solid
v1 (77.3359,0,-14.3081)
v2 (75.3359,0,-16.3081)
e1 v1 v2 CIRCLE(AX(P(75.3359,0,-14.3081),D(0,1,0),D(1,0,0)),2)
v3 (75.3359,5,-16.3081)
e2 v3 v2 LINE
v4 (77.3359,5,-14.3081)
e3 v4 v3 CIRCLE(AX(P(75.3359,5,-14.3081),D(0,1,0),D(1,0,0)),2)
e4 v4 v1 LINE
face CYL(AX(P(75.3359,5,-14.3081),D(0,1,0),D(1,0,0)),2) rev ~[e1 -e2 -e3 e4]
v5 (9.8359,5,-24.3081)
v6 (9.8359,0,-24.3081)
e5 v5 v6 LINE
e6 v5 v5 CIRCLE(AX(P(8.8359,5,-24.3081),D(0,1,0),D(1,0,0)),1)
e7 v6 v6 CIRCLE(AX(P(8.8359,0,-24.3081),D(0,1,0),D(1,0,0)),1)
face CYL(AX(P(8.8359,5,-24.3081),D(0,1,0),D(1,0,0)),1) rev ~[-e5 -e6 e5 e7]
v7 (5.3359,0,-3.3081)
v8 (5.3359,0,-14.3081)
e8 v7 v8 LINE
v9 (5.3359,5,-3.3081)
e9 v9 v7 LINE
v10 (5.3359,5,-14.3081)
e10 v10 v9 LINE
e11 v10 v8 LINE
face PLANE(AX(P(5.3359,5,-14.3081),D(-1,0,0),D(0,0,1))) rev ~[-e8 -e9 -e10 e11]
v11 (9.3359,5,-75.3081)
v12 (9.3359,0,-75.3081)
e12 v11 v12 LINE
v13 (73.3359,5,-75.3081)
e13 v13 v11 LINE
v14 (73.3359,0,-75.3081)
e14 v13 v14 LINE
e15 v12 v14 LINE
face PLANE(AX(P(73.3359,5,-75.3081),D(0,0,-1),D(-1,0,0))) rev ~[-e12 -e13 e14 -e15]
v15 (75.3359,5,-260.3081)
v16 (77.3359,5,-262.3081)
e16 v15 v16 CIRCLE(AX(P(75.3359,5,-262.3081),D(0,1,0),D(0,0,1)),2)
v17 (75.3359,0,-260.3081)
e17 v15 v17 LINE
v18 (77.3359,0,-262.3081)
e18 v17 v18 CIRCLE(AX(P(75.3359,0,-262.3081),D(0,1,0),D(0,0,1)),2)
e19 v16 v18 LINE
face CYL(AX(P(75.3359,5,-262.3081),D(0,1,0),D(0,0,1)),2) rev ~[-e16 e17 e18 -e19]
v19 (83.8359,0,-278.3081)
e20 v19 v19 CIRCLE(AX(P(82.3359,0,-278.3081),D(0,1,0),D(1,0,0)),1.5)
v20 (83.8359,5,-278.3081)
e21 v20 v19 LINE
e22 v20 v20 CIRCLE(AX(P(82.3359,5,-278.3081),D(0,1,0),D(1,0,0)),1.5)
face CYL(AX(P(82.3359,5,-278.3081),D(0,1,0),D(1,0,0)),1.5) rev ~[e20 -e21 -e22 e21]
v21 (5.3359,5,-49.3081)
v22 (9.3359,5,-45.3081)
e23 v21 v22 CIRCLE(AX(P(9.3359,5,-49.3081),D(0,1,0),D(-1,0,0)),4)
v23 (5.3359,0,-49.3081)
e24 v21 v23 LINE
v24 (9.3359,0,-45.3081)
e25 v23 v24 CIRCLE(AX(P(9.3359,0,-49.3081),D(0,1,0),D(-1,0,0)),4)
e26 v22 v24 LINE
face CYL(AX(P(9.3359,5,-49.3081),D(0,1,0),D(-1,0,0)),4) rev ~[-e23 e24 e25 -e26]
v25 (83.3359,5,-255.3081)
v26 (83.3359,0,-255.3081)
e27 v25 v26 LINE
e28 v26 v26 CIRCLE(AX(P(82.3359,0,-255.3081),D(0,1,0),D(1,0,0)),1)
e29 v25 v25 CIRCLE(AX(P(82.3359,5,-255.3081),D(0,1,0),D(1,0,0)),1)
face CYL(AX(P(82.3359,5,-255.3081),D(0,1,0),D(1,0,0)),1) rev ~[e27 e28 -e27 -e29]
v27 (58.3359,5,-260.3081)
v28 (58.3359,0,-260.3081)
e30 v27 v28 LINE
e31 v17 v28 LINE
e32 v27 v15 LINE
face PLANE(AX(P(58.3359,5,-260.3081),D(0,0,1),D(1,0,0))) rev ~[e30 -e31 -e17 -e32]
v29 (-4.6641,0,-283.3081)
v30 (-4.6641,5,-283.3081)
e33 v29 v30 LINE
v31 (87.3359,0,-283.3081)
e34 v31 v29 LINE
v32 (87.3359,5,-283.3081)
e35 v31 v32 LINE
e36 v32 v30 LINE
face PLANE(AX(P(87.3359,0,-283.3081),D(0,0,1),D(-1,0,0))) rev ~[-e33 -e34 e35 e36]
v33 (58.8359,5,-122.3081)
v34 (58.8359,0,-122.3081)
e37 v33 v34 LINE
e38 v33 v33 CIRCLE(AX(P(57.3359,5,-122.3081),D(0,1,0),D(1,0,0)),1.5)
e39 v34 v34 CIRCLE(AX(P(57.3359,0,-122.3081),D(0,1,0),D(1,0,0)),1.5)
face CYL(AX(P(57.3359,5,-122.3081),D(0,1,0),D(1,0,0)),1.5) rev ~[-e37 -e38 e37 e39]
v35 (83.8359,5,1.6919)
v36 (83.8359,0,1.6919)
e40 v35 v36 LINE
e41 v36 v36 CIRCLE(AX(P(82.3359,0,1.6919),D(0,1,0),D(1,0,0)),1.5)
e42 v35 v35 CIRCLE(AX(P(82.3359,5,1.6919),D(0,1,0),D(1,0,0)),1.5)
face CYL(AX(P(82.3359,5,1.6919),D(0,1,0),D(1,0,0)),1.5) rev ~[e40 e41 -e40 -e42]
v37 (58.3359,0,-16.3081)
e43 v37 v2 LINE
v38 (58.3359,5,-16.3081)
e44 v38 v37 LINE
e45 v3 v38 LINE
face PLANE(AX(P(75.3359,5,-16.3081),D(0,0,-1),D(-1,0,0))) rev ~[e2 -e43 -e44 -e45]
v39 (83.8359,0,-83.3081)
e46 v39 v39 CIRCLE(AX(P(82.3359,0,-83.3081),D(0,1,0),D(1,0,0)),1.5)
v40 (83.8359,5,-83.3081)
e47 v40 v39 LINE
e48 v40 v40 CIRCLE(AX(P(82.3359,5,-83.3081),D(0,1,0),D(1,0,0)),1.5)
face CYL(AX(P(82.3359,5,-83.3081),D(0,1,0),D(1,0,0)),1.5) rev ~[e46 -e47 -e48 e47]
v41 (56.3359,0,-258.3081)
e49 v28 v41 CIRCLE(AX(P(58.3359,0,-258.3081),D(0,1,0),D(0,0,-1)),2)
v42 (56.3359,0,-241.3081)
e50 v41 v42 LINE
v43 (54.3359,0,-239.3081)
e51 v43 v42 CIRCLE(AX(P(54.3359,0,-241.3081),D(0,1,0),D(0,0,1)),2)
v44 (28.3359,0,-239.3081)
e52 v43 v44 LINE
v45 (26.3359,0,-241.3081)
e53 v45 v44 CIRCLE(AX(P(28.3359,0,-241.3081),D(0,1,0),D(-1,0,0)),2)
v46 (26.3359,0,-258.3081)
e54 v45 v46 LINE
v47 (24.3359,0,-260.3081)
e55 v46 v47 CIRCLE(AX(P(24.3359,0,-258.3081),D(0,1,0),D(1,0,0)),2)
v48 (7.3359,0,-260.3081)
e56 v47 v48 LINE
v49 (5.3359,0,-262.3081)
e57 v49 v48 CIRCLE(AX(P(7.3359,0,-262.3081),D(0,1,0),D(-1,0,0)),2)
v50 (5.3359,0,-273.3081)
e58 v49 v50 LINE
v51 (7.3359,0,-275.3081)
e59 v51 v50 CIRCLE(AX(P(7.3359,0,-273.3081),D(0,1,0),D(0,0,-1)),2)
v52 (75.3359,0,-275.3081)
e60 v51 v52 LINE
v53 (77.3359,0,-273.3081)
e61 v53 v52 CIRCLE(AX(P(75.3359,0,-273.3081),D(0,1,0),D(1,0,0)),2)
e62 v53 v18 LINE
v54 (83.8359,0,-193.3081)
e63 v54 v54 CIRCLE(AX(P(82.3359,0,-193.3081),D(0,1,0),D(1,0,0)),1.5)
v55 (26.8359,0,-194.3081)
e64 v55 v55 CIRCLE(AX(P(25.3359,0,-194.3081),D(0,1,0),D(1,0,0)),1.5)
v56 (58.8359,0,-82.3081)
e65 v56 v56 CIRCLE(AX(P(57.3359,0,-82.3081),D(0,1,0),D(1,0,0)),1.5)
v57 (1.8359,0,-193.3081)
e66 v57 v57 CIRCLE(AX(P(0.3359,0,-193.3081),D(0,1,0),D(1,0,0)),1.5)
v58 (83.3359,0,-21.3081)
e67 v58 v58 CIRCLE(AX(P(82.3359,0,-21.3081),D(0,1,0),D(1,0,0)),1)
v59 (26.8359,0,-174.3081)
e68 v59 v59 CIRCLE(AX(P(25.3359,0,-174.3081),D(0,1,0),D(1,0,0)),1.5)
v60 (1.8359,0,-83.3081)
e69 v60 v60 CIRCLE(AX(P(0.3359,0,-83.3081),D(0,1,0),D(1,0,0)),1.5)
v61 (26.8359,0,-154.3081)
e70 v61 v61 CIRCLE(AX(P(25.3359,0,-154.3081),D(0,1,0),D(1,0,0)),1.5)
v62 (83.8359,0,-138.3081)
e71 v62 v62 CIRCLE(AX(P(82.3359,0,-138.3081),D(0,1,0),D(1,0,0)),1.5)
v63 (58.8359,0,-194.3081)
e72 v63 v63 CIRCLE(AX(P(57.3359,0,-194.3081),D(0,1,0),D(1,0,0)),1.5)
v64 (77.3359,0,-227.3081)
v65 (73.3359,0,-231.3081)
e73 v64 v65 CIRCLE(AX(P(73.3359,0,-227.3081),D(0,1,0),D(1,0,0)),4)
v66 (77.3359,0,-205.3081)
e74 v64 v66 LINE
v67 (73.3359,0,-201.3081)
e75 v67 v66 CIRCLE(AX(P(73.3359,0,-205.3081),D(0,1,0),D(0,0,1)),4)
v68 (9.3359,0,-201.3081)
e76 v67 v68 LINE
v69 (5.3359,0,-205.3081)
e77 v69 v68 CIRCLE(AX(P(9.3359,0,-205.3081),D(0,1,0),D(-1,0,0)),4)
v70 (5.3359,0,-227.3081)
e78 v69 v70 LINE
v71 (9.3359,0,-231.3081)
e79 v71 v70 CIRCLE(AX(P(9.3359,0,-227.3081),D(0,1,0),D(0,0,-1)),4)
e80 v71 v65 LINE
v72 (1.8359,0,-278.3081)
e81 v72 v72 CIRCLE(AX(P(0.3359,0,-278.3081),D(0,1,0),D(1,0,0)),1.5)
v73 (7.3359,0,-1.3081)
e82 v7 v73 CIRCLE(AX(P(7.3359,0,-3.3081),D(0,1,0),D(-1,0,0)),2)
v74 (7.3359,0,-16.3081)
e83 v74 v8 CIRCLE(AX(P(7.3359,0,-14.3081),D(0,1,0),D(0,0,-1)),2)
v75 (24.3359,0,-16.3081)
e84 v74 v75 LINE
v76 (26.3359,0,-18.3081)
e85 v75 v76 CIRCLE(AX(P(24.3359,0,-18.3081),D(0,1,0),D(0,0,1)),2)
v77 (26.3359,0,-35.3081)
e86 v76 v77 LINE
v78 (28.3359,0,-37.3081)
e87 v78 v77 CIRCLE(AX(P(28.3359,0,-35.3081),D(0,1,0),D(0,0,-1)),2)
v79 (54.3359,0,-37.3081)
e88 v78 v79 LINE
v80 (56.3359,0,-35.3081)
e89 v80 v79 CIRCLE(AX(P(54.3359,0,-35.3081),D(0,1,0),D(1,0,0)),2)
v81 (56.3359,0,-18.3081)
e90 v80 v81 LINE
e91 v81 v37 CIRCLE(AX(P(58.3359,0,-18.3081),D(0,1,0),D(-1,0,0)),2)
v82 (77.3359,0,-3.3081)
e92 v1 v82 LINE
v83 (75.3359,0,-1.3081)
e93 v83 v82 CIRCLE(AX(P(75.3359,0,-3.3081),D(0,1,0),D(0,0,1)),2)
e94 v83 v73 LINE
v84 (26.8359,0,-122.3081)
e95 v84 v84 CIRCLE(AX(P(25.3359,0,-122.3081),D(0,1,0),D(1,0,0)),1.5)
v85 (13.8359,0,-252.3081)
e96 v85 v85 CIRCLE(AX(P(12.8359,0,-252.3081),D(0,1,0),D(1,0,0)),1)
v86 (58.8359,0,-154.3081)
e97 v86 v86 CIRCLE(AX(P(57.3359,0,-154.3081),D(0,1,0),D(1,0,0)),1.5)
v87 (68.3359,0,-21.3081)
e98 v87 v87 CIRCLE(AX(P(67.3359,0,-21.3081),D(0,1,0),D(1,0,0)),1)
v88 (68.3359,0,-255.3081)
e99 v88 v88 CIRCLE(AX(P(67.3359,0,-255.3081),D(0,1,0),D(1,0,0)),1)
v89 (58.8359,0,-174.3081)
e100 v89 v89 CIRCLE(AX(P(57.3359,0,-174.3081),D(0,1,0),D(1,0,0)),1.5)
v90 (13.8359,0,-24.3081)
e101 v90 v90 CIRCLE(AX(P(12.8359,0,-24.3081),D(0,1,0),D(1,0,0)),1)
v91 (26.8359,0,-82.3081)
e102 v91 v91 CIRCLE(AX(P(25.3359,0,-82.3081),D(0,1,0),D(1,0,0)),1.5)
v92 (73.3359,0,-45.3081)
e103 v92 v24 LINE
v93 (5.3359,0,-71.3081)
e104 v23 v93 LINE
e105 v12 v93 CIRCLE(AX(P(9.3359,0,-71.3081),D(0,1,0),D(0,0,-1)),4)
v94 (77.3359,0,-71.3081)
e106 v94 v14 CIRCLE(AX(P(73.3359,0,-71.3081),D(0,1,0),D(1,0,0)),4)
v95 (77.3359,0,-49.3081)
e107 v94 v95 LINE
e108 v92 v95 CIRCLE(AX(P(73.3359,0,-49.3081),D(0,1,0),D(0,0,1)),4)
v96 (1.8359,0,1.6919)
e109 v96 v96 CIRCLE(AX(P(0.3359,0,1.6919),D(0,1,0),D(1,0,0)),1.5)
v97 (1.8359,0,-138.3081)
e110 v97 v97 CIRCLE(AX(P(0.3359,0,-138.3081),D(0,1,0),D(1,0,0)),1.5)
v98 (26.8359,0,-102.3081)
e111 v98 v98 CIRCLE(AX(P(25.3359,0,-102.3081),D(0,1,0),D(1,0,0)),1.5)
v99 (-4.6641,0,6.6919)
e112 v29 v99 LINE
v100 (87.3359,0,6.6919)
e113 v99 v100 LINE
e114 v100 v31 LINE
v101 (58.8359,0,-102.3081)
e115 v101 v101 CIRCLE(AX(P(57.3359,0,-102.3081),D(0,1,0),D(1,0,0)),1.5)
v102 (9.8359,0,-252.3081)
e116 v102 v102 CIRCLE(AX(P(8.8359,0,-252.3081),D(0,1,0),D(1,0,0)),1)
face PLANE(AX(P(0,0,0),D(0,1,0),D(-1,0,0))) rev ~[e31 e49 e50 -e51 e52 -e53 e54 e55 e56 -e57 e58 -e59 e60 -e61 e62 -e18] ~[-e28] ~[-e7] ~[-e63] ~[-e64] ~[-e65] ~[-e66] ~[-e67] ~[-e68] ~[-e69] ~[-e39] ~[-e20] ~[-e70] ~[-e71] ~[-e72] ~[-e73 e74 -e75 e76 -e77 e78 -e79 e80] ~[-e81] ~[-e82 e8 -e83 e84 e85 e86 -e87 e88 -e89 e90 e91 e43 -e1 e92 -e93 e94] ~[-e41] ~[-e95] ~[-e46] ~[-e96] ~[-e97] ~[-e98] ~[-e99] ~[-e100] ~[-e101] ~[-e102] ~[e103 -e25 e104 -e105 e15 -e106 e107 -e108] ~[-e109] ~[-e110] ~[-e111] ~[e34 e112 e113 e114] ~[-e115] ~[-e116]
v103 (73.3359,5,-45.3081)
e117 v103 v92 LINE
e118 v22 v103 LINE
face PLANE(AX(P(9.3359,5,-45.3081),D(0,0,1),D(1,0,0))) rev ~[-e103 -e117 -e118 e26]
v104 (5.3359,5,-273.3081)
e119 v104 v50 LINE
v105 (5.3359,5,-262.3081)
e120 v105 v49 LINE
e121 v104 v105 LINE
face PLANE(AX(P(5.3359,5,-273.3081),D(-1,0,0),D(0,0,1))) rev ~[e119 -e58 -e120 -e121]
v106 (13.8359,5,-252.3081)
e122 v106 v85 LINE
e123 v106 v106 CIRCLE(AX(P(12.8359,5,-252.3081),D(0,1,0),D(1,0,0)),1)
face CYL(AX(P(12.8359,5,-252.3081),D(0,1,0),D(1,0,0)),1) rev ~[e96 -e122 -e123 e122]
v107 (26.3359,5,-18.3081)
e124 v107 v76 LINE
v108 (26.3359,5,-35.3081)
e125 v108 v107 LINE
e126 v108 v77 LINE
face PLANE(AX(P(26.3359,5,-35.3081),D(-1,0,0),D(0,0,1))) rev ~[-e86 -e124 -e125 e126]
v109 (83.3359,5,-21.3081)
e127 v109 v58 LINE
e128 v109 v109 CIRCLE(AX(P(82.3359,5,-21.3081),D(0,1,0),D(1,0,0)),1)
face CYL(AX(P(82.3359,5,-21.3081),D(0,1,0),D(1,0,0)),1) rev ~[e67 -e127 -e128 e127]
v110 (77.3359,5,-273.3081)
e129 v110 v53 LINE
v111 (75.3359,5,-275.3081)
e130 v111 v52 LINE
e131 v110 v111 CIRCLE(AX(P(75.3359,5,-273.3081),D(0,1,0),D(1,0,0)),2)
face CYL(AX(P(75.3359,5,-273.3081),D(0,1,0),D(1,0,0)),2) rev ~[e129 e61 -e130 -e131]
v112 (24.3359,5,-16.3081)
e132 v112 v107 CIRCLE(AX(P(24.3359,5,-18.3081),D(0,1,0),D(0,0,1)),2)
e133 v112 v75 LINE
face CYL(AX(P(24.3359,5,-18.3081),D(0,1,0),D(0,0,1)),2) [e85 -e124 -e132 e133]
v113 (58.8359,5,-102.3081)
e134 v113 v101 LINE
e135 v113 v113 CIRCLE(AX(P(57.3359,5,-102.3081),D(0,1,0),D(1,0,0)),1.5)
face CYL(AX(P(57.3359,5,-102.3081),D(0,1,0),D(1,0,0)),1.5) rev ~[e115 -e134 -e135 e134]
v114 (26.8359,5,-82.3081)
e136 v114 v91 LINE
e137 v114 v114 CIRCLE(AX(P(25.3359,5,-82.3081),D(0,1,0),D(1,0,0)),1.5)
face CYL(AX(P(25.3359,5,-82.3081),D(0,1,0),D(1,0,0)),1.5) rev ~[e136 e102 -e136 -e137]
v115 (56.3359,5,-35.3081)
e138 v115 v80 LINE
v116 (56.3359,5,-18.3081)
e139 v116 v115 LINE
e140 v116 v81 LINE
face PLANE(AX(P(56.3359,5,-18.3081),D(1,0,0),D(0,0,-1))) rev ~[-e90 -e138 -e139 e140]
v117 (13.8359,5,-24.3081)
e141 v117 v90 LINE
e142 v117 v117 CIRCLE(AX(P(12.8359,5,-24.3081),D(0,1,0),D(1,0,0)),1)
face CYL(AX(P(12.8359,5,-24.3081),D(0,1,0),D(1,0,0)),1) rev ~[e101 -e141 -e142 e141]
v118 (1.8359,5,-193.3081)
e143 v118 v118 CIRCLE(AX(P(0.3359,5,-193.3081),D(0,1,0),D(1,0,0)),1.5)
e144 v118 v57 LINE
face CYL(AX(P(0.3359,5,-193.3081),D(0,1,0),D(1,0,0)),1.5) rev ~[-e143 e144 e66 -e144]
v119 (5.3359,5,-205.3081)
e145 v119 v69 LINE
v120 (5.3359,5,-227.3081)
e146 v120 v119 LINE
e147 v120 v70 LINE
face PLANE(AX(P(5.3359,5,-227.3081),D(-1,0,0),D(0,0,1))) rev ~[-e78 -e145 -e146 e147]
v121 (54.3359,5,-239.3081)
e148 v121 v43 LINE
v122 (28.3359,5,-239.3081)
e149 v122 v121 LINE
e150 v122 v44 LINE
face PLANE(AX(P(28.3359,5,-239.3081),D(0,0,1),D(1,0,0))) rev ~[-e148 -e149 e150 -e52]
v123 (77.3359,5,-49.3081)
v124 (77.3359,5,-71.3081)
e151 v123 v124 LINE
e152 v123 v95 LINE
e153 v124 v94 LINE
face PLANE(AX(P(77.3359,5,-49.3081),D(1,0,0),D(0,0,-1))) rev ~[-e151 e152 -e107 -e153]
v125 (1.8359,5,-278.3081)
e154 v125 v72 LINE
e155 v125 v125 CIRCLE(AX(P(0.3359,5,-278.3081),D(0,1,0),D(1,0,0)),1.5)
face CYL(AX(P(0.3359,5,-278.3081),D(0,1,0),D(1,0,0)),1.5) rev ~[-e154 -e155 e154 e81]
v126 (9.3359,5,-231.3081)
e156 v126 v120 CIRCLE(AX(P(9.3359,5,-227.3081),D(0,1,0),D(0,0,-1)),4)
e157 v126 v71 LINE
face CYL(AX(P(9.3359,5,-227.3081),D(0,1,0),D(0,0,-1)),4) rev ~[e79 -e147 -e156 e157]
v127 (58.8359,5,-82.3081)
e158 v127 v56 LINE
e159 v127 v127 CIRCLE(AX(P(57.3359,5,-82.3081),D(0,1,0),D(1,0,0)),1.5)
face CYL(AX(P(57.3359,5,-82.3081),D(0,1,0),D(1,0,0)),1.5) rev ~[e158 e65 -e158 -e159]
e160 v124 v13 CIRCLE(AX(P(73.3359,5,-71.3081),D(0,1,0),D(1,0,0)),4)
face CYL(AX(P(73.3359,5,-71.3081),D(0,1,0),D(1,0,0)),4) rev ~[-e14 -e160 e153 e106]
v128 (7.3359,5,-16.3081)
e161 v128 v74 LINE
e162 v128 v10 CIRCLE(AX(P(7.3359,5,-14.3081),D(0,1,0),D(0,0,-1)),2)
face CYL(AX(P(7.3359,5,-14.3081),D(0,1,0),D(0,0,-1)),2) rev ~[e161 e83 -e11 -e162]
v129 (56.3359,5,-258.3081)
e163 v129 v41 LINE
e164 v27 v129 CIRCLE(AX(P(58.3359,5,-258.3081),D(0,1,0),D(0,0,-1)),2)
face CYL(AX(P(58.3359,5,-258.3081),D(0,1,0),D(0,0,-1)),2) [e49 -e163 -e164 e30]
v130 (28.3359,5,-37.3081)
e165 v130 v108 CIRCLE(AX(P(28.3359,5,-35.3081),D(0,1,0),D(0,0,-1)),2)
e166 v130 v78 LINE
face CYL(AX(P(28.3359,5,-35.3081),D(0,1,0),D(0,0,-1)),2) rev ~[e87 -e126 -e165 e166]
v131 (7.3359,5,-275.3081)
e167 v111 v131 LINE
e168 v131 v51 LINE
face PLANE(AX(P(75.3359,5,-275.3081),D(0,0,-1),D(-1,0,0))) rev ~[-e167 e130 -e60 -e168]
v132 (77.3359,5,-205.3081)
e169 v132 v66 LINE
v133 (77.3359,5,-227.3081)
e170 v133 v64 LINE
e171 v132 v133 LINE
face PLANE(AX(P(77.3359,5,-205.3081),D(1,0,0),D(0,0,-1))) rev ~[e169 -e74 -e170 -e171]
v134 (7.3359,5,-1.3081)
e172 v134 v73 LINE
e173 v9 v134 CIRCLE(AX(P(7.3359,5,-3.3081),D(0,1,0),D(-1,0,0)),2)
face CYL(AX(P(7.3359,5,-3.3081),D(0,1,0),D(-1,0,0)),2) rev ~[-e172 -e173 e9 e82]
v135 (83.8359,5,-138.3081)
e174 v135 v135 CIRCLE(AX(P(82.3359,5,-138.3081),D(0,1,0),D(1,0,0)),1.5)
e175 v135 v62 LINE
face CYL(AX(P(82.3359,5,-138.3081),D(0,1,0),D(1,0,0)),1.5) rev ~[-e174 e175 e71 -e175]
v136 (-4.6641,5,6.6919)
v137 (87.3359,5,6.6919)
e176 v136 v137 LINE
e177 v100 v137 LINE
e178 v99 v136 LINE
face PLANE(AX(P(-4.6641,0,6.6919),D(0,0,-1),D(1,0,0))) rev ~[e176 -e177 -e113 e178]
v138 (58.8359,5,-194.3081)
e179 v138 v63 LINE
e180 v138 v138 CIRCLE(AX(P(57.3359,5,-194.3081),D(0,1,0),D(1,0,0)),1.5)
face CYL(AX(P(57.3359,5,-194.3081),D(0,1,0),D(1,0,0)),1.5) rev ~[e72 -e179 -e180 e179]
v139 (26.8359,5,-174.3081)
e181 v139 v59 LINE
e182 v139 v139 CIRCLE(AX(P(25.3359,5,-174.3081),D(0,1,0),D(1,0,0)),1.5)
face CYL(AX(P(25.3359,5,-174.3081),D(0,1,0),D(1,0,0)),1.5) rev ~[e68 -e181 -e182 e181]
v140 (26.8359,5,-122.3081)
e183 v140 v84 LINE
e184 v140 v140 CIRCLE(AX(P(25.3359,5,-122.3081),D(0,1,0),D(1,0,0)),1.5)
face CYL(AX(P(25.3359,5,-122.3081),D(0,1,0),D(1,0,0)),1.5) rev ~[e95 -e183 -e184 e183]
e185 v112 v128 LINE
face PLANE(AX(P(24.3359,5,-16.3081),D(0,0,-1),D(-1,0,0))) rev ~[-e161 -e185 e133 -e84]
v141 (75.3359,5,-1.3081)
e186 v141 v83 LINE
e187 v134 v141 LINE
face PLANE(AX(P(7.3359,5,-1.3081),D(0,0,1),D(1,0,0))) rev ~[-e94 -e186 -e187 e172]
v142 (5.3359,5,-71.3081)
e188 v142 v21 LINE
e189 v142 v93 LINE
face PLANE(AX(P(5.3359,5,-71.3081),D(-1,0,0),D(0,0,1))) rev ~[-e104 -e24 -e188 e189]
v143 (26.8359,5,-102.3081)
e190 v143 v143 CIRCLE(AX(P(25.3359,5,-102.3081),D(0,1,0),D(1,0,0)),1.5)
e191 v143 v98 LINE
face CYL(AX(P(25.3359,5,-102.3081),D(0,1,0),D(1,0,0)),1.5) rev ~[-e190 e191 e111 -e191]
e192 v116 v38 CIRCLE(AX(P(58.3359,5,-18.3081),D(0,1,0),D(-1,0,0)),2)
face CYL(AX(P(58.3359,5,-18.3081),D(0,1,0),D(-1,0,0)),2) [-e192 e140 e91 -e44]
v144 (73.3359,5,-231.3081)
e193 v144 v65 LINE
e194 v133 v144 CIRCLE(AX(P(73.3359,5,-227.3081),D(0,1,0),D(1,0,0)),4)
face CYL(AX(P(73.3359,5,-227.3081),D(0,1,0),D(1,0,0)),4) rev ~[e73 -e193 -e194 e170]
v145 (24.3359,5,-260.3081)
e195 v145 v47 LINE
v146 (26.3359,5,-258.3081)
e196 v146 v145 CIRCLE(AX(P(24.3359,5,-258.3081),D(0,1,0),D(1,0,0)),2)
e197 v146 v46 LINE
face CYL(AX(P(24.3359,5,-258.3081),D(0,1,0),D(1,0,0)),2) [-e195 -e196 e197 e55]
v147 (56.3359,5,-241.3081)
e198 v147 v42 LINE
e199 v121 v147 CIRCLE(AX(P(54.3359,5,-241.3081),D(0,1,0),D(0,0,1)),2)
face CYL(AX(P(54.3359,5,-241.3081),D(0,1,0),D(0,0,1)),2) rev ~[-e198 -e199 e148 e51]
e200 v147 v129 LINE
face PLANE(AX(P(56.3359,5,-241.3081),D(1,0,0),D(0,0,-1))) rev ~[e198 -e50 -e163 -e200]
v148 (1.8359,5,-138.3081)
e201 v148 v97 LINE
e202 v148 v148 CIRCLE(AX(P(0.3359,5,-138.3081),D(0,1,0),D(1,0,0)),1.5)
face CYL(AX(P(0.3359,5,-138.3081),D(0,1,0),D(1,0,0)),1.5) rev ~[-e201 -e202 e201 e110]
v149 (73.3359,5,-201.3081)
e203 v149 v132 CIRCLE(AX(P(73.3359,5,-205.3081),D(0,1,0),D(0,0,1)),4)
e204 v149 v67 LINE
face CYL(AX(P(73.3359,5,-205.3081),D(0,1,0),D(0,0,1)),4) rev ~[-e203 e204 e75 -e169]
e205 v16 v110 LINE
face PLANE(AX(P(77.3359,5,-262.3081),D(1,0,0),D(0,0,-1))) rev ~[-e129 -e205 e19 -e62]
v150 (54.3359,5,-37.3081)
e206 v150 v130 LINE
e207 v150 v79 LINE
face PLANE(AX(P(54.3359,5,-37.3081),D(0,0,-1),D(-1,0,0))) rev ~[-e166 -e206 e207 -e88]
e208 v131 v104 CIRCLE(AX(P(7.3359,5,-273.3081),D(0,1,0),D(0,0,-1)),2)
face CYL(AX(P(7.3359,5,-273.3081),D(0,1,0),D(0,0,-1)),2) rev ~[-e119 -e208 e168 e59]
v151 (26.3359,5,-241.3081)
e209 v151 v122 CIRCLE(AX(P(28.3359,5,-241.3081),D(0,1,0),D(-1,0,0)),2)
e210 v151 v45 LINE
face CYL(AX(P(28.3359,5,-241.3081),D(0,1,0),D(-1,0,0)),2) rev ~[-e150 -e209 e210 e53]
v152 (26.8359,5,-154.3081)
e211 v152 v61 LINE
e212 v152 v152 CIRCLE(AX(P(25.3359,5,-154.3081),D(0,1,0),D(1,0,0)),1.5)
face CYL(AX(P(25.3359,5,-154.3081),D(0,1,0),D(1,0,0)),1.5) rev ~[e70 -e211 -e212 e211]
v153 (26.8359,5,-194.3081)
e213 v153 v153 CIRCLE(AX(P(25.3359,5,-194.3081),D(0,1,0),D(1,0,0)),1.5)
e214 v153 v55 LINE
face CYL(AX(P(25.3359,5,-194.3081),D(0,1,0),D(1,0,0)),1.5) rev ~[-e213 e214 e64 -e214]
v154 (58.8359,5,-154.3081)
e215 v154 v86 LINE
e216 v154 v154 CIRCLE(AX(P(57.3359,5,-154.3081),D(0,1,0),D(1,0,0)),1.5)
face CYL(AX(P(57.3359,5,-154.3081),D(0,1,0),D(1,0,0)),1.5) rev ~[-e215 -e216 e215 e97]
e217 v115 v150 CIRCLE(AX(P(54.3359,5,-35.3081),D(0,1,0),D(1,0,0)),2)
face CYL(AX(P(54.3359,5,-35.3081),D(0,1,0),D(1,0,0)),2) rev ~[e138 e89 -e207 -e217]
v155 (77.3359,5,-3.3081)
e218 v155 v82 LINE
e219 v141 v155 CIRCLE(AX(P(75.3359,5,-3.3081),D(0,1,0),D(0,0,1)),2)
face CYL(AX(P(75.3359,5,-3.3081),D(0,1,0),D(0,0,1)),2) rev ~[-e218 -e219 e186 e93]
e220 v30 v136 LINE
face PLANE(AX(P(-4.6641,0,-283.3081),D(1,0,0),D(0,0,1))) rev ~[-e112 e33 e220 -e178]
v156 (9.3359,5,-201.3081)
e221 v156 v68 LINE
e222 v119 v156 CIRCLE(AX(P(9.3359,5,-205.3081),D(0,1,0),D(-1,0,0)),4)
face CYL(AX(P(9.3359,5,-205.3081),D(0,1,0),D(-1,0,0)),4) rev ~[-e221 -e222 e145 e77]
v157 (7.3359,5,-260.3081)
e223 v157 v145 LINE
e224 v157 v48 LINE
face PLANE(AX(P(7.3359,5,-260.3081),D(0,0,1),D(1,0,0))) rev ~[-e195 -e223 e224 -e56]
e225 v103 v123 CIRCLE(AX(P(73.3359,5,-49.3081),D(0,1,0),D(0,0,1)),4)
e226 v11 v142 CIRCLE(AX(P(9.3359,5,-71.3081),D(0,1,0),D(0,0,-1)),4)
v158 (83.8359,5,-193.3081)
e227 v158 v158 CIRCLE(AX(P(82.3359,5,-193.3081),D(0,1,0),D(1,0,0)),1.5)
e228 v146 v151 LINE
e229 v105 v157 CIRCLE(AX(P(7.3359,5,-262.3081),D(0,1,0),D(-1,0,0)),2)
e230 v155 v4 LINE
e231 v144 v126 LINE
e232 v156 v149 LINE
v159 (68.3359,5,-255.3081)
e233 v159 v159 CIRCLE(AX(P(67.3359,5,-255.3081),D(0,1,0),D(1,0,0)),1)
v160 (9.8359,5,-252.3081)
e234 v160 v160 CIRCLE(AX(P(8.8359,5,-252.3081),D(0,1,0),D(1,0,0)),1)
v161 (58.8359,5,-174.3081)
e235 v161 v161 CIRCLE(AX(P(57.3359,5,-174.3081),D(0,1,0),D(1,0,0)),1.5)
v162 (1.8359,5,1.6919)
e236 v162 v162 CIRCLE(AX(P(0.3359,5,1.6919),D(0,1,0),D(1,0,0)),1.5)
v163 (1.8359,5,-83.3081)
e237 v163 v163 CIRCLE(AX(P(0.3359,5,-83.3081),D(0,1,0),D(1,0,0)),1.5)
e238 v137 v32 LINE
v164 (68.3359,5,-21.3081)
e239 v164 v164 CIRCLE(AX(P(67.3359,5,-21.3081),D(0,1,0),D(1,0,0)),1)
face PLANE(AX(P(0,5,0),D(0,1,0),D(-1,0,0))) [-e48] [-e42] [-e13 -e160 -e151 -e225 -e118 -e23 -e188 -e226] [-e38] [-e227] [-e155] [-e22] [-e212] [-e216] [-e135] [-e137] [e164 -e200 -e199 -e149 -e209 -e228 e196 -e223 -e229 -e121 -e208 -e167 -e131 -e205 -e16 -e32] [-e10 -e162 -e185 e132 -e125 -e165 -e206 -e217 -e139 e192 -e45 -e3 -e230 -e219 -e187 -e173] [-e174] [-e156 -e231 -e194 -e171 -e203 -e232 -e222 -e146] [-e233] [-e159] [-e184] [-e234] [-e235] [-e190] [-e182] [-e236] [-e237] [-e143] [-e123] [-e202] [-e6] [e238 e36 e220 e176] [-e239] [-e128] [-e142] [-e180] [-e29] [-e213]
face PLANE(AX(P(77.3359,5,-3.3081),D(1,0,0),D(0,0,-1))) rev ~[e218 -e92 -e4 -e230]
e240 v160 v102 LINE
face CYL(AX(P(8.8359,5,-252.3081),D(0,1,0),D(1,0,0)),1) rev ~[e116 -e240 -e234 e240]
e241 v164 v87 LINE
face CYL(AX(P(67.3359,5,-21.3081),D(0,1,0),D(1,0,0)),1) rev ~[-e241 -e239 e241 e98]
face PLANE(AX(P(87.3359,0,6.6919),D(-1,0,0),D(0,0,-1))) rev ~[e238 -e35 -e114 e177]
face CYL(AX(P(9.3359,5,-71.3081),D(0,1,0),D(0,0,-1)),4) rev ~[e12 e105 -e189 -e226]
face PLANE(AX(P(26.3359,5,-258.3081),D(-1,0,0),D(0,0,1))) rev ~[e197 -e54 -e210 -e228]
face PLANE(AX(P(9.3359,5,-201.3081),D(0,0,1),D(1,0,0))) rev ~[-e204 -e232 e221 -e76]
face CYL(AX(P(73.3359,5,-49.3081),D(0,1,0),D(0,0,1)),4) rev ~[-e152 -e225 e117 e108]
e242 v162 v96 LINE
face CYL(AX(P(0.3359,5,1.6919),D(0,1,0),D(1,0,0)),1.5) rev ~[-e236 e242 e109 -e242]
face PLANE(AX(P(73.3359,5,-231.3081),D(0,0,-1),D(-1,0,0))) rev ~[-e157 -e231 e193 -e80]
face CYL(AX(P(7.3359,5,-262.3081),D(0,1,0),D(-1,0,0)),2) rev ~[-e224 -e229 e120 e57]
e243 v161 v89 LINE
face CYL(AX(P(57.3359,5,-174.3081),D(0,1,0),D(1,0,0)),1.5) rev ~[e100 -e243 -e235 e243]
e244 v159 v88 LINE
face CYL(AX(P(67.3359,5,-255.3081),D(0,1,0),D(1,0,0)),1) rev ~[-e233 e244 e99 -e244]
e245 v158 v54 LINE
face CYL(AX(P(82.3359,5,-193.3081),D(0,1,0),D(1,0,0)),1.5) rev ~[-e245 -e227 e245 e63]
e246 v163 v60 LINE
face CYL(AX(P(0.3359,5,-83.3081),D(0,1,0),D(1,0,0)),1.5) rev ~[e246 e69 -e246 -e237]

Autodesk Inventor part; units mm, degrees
ref_plane "YZ Plane" through (0, 0, 0) normal (1, 0, 0) x (0, 1, 0)
ref_plane "XZ Plane" through (0, 0, 0) normal (0, 1, 0) x (-1, 0, 0)
ref_plane "XY Plane" through (0, 0, 0) normal (0, 0, 1) x (1, 0, 0)
sketch "Sketch1" plane through (0, 0, 0) normal (0, 1, 0) x (-1, 0, 0)
  line L0 (4.6641, 6.6919) -> (-87.3359, 6.6919)
  line L1 (-87.3359, 6.6919) -> (-87.3359, -283.3081)
  line L2 (-87.3359, -283.3081) -> (4.6641, -283.3081)
  line L3 (4.6641, -283.3081) -> (4.6641, 6.6919)
  point P0 (0, 0)
  dimension "d0" = 290
  dimension "d1" = 92
extrude "Extrusion1" add sketch "Sketch1" along normal blind 5
sketch "Sketch2" plane through (0, 5, 0) normal (0, 1, 0) x (1, 0, 0)
  line L0 (-4.6641, 283.3081) -> (-4.6641, -6.6919) projected
  line L1 (87.3359, -6.6919) -> (87.3359, 283.3081) projected
  line L2 (9.3359, 45.3081) -> (73.3359, 45.3081)
  line L3 (77.3359, 49.3081) -> (77.3359, 71.3081)
  line L4 (73.3359, 75.3081) -> (9.3359, 75.3081)
  line L5 (5.3359, 71.3081) -> (5.3359, 49.3081)
  line L6 (-4.6641, -6.6919) -> (87.3359, -6.6919) projected
  arc A0 (5.3359, 49.3081) -> (9.3359, 45.3081) centre (9.3359, 49.3081) ccw
  arc A1 (9.3359, 75.3081) -> (5.3359, 71.3081) centre (9.3359, 71.3081) ccw
  arc A2 (77.3359, 71.3081) -> (73.3359, 75.3081) centre (73.3359, 71.3081) ccw
  arc A3 (73.3359, 45.3081) -> (77.3359, 49.3081) centre (73.3359, 49.3081) ccw
  line L7 (9.3359, 201.3081) -> (73.3359, 201.3081)
  line L8 (77.3359, 205.3081) -> (77.3359, 227.3081)
  line L9 (73.3359, 231.3081) -> (9.3359, 231.3081)
  line L10 (5.3359, 227.3081) -> (5.3359, 205.3081)
  arc A4 (5.3359, 205.3081) -> (9.3359, 201.3081) centre (9.3359, 205.3081) ccw
  arc A5 (9.3359, 231.3081) -> (5.3359, 227.3081) centre (9.3359, 227.3081) ccw
  arc A6 (77.3359, 227.3081) -> (73.3359, 231.3081) centre (73.3359, 227.3081) ccw
  arc A7 (73.3359, 201.3081) -> (77.3359, 205.3081) centre (73.3359, 205.3081) ccw
  line L11 (7.3359, 1.3081) -> (75.3359, 1.3081)
  line L12 (77.3359, 3.3081) -> (77.3359, 14.3081)
  line L13 (75.3359, 16.3081) -> (58.3359, 16.3081)
  line L14 (56.3359, 18.3081) -> (56.3359, 35.3081)
  line L15 (54.3359, 37.3081) -> (28.3359, 37.3081)
  line L16 (26.3359, 35.3081) -> (26.3359, 18.3081)
  line L17 (24.3359, 16.3081) -> (7.3359, 16.3081)
  line L18 (5.3359, 14.3081) -> (5.3359, 3.3081)
  arc A8 (5.3359, 3.3081) -> (7.3359, 1.3081) centre (7.3359, 3.3081) ccw
  arc A9 (7.3359, 16.3081) -> (5.3359, 14.3081) centre (7.3359, 14.3081) ccw
  arc A10 (24.3359, 16.3081) -> (26.3359, 18.3081) centre (24.3359, 18.3081) ccw
  arc A11 (28.3359, 37.3081) -> (26.3359, 35.3081) centre (28.3359, 35.3081) ccw
  arc A12 (56.3359, 35.3081) -> (54.3359, 37.3081) centre (54.3359, 35.3081) ccw
  arc A13 (56.3359, 18.3081) -> (58.3359, 16.3081) centre (58.3359, 18.3081) ccw
  arc A14 (77.3359, 14.3081) -> (75.3359, 16.3081) centre (75.3359, 14.3081) ccw
  arc A15 (75.3359, 1.3081) -> (77.3359, 3.3081) centre (75.3359, 3.3081) ccw
  line L19 (87.3359, 283.3081) -> (-4.6641, 283.3081) projected
  line L20 (5.3359, 273.3081) -> (5.3359, 262.3081)
  line L21 (7.3359, 260.3081) -> (24.3359, 260.3081)
  line L22 (26.3359, 258.3081) -> (26.3359, 241.3081)
  line L23 (28.3359, 239.3081) -> (54.3359, 239.3081)
  line L24 (56.3359, 241.3081) -> (56.3359, 258.3081)
  line L25 (58.3359, 260.3081) -> (75.3359, 260.3081)
  line L26 (77.3359, 262.3081) -> (77.3359, 273.3081)
  line L27 (75.3359, 275.3081) -> (7.3359, 275.3081)
  arc A16 (26.3359, 258.3081) -> (24.3359, 260.3081) centre (24.3359, 258.3081) ccw
  arc A17 (5.3359, 262.3081) -> (7.3359, 260.3081) centre (7.3359, 262.3081) ccw
  arc A18 (7.3359, 275.3081) -> (5.3359, 273.3081) centre (7.3359, 273.3081) ccw
  arc A19 (77.3359, 273.3081) -> (75.3359, 275.3081) centre (75.3359, 273.3081) ccw
  arc A20 (75.3359, 260.3081) -> (77.3359, 262.3081) centre (75.3359, 262.3081) ccw
  arc A21 (58.3359, 260.3081) -> (56.3359, 258.3081) centre (58.3359, 258.3081) ccw
  arc A22 (54.3359, 239.3081) -> (56.3359, 241.3081) centre (54.3359, 241.3081) ccw
  arc A23 (26.3359, 241.3081) -> (28.3359, 239.3081) centre (28.3359, 241.3081) ccw
  point P0 (5.3359, 45.3081)
  point P1 (77.3359, 75.3081)
  point P2 (5.3359, 75.3081)
  point P3 (5.3359, 201.3081)
  point P4 (77.3359, 201.3081)
  point P5 (5.3359, 231.3081)
  point P6 (5.3359, 1.3081)
  point P7 (77.3359, 1.3081)
  point P8 (77.3359, 16.3081)
  point P9 (56.3359, 16.3081)
  point P10 (26.3359, 16.3081)
  point P11 (5.3359, 16.3081)
  point P12 (5.3359, 275.3081)
  point P13 (5.3359, 260.3081)
  point P14 (26.3359, 260.3081)
  point P15 (56.3359, 260.3081)
  point P16 (77.3359, 260.3081)
  point P17 (77.3359, 275.3081)
  dimension "d12" = 30
  dimension "d13" = 72
  dimension "d14" = 10
  dimension "d16" = 4
  dimension "d17" = 30
  dimension "d18" = 10
  dimension "d19" = 72
  dimension "d21" = 4
  dimension "d41" = 10
  dimension "d42" = 72
  dimension "d43" = 15
  dimension "d44" = 21
  dimension "d45" = 21
  dimension "d46" = 36
  dimension "d47" = 15
  dimension "d48" = 8
  dimension "d49" = 2
  dimension "d58" = 10
  dimension "d59" = 8
  dimension "d60" = 72
  dimension "d61" = 15
  dimension "d62" = 36
  dimension "d63" = 21
  dimension "d64" = 21
  dimension "d65" = 2
  dimension "d66" = 2
  dimension "d170" = 8
  dimension "d171" = 8
extrude "Extrusion2" cut sketch "Sketch2" against normal up to next contours A0 L5 A1 L4 A2 L3 A3 L2 | A4 L10 A5 L9 A6 L8 A7 L7 | A8 L18 A9 L17 A10 L16 A11 L15 A12 L14 A13 L13 A14 L12 A15 L11 | A18 L27 A19 L26 A20 L25 A21 L24 A22 L23 A23 L22 A16 L21 A17 L20
sketch "Sketch3" plane through (0, 5, 0) normal (0, 1, 0) x (1, 0, 0)
  circle A0 centre (0.3359, -1.6919) radius 1.5
  circle A1 centre (82.3359, -1.6919) radius 1.5
  circle A2 centre (0.3359, 83.3081) radius 1.5
  circle A3 centre (0.3359, 138.3081) radius 1.5
  circle A4 centre (0.3359, 193.3081) radius 1.5
  circle A5 centre (0.3359, 278.3081) radius 1.5
  circle A6 centre (82.3359, 83.3081) radius 1.5
  circle A7 centre (82.3359, 138.3081) radius 1.5
  circle A8 centre (82.3359, 193.3081) radius 1.5
  circle A9 centre (82.3359, 278.3081) radius 1.5
  line L0 (-4.6641, -6.6919) -> (87.3359, -6.6919) projected
  line L1 (-4.6641, 283.3081) -> (-4.6641, -6.6919) projected
  line L2 (87.3359, -6.6919) -> (87.3359, 283.3081) projected
  line L3 (87.3359, 283.3081) -> (-4.6641, 283.3081) projected
  circle A10 centre (82.3359, 21.3081) radius 1
  circle A11 centre (67.3359, 21.3081) radius 1
  circle A12 centre (82.3359, 255.3081) radius 1
  circle A13 centre (67.3359, 255.3081) radius 1
  circle A14 centre (25.3359, 82.3081) radius 1.5
  circle A15 centre (25.3359, 102.3081) radius 1.5
  circle A16 centre (57.3359, 82.3081) radius 1.5
  circle A17 centre (57.3359, 102.3081) radius 1.5
  circle A18 centre (25.3359, 194.3081) radius 1.5
  circle A19 centre (25.3359, 174.3081) radius 1.5
  circle A20 centre (57.3359, 194.3081) radius 1.5
  circle A21 centre (57.3359, 174.3081) radius 1.5
  line L4 (9.3359, 75.3081) -> (73.3359, 75.3081) projected
  line L5 (73.3359, 201.3081) -> (9.3359, 201.3081) projected
  circle A22 centre (57.3359, 122.3081) radius 1.5
  circle A23 centre (25.3359, 122.3081) radius 1.5
  circle A24 centre (25.3359, 154.3081) radius 1.5
  circle A25 centre (57.3359, 154.3081) radius 1.5
  line L6 (75.3359, 260.3081) -> (58.3359, 260.3081) projected
  line L7 (58.3359, 16.3081) -> (75.3359, 16.3081) projected
  circle A26 centre (8.8359, 24.3081) radius 1
  circle A27 centre (12.8359, 24.3081) radius 1
  line L8 (26.3359, 18.3081) -> (26.3359, 35.3081) projected
  line L9 (7.3359, 16.3081) -> (24.3359, 16.3081) projected
  circle A28 centre (12.8359, 252.3081) radius 1
  circle A29 centre (8.8359, 252.3081) radius 1
  line L10 (26.3359, 241.3081) -> (26.3359, 258.3081) projected
  line L11 (24.3359, 260.3081) -> (7.3359, 260.3081) projected
  point P0 (0, 0)
  dimension "d70" = 3
  dimension "d71" = 5
  dimension "d72" = 5
  dimension "d73" = 3
  dimension "d74" = 5
  dimension "d75" = 5
  dimension "d77" = 3
  dimension "d78" = 3
  dimension "d79" = 3
  dimension "d81" = 3
  dimension "d82" = 3
  dimension "d84" = 3
  dimension "d85" = 3
  dimension "d86" = 3
  dimension "d89" = 5
  dimension "d90" = 5
  dimension "d91" = 5
  dimension "d93" = 5
  dimension "d95" = 5
  dimension "d96" = 5
  dimension "d97" = 5
  dimension "d99" = 5
  dimension "d100" = 5
  dimension "d101" = 5
  dimension "d106" = 145
  dimension "d107" = 145
  dimension "d108" = 90
  dimension "d109" = 90
  dimension "d110" = 90
  dimension "d111" = 90
  dimension "d112" = 2
  dimension "d113" = 2
  dimension "d114" = 2
  dimension "d115" = 2
  dimension "d116" = 5
  dimension "d119" = 20
  dimension "d120" = 5
  dimension "d121" = 20
  dimension "d124" = 3
  dimension "d125" = 3
  dimension "d127" = 3
  dimension "d128" = 3
  dimension "d131" = 3
  dimension "d132" = 3
  dimension "d133" = 3
  dimension "d134" = 3
  dimension "d136" = 30
  dimension "d137" = 30
  dimension "d139" = 30
  dimension "d140" = 30
  dimension "d143" = 30
  dimension "d144" = 30
  dimension "d145" = 30
  dimension "d146" = 30
  dimension "d148" = 7
  dimension "d149" = 7
  dimension "d150" = 7
  dimension "d151" = 7
  dimension "d152" = 20
  dimension "d153" = 3
  dimension "d154" = 30
  dimension "d155" = 20
  dimension "d156" = 20
  dimension "d157" = 3
extrude "Extrusion3" cut sketch "Sketch3" against normal blind 5 contours A0 | A1 | A2 | A3 | A4 | A5 | A6 | A7 | A8 | A9 | A10 | A11 | A12 | A13 | A14 | A15 | A16 | A17 | A18 | A19 | A20 | A21 | A22 | A23 | A24 | A25 | A26 | A27 | A28 | A29
properties part number "base_roulante"
